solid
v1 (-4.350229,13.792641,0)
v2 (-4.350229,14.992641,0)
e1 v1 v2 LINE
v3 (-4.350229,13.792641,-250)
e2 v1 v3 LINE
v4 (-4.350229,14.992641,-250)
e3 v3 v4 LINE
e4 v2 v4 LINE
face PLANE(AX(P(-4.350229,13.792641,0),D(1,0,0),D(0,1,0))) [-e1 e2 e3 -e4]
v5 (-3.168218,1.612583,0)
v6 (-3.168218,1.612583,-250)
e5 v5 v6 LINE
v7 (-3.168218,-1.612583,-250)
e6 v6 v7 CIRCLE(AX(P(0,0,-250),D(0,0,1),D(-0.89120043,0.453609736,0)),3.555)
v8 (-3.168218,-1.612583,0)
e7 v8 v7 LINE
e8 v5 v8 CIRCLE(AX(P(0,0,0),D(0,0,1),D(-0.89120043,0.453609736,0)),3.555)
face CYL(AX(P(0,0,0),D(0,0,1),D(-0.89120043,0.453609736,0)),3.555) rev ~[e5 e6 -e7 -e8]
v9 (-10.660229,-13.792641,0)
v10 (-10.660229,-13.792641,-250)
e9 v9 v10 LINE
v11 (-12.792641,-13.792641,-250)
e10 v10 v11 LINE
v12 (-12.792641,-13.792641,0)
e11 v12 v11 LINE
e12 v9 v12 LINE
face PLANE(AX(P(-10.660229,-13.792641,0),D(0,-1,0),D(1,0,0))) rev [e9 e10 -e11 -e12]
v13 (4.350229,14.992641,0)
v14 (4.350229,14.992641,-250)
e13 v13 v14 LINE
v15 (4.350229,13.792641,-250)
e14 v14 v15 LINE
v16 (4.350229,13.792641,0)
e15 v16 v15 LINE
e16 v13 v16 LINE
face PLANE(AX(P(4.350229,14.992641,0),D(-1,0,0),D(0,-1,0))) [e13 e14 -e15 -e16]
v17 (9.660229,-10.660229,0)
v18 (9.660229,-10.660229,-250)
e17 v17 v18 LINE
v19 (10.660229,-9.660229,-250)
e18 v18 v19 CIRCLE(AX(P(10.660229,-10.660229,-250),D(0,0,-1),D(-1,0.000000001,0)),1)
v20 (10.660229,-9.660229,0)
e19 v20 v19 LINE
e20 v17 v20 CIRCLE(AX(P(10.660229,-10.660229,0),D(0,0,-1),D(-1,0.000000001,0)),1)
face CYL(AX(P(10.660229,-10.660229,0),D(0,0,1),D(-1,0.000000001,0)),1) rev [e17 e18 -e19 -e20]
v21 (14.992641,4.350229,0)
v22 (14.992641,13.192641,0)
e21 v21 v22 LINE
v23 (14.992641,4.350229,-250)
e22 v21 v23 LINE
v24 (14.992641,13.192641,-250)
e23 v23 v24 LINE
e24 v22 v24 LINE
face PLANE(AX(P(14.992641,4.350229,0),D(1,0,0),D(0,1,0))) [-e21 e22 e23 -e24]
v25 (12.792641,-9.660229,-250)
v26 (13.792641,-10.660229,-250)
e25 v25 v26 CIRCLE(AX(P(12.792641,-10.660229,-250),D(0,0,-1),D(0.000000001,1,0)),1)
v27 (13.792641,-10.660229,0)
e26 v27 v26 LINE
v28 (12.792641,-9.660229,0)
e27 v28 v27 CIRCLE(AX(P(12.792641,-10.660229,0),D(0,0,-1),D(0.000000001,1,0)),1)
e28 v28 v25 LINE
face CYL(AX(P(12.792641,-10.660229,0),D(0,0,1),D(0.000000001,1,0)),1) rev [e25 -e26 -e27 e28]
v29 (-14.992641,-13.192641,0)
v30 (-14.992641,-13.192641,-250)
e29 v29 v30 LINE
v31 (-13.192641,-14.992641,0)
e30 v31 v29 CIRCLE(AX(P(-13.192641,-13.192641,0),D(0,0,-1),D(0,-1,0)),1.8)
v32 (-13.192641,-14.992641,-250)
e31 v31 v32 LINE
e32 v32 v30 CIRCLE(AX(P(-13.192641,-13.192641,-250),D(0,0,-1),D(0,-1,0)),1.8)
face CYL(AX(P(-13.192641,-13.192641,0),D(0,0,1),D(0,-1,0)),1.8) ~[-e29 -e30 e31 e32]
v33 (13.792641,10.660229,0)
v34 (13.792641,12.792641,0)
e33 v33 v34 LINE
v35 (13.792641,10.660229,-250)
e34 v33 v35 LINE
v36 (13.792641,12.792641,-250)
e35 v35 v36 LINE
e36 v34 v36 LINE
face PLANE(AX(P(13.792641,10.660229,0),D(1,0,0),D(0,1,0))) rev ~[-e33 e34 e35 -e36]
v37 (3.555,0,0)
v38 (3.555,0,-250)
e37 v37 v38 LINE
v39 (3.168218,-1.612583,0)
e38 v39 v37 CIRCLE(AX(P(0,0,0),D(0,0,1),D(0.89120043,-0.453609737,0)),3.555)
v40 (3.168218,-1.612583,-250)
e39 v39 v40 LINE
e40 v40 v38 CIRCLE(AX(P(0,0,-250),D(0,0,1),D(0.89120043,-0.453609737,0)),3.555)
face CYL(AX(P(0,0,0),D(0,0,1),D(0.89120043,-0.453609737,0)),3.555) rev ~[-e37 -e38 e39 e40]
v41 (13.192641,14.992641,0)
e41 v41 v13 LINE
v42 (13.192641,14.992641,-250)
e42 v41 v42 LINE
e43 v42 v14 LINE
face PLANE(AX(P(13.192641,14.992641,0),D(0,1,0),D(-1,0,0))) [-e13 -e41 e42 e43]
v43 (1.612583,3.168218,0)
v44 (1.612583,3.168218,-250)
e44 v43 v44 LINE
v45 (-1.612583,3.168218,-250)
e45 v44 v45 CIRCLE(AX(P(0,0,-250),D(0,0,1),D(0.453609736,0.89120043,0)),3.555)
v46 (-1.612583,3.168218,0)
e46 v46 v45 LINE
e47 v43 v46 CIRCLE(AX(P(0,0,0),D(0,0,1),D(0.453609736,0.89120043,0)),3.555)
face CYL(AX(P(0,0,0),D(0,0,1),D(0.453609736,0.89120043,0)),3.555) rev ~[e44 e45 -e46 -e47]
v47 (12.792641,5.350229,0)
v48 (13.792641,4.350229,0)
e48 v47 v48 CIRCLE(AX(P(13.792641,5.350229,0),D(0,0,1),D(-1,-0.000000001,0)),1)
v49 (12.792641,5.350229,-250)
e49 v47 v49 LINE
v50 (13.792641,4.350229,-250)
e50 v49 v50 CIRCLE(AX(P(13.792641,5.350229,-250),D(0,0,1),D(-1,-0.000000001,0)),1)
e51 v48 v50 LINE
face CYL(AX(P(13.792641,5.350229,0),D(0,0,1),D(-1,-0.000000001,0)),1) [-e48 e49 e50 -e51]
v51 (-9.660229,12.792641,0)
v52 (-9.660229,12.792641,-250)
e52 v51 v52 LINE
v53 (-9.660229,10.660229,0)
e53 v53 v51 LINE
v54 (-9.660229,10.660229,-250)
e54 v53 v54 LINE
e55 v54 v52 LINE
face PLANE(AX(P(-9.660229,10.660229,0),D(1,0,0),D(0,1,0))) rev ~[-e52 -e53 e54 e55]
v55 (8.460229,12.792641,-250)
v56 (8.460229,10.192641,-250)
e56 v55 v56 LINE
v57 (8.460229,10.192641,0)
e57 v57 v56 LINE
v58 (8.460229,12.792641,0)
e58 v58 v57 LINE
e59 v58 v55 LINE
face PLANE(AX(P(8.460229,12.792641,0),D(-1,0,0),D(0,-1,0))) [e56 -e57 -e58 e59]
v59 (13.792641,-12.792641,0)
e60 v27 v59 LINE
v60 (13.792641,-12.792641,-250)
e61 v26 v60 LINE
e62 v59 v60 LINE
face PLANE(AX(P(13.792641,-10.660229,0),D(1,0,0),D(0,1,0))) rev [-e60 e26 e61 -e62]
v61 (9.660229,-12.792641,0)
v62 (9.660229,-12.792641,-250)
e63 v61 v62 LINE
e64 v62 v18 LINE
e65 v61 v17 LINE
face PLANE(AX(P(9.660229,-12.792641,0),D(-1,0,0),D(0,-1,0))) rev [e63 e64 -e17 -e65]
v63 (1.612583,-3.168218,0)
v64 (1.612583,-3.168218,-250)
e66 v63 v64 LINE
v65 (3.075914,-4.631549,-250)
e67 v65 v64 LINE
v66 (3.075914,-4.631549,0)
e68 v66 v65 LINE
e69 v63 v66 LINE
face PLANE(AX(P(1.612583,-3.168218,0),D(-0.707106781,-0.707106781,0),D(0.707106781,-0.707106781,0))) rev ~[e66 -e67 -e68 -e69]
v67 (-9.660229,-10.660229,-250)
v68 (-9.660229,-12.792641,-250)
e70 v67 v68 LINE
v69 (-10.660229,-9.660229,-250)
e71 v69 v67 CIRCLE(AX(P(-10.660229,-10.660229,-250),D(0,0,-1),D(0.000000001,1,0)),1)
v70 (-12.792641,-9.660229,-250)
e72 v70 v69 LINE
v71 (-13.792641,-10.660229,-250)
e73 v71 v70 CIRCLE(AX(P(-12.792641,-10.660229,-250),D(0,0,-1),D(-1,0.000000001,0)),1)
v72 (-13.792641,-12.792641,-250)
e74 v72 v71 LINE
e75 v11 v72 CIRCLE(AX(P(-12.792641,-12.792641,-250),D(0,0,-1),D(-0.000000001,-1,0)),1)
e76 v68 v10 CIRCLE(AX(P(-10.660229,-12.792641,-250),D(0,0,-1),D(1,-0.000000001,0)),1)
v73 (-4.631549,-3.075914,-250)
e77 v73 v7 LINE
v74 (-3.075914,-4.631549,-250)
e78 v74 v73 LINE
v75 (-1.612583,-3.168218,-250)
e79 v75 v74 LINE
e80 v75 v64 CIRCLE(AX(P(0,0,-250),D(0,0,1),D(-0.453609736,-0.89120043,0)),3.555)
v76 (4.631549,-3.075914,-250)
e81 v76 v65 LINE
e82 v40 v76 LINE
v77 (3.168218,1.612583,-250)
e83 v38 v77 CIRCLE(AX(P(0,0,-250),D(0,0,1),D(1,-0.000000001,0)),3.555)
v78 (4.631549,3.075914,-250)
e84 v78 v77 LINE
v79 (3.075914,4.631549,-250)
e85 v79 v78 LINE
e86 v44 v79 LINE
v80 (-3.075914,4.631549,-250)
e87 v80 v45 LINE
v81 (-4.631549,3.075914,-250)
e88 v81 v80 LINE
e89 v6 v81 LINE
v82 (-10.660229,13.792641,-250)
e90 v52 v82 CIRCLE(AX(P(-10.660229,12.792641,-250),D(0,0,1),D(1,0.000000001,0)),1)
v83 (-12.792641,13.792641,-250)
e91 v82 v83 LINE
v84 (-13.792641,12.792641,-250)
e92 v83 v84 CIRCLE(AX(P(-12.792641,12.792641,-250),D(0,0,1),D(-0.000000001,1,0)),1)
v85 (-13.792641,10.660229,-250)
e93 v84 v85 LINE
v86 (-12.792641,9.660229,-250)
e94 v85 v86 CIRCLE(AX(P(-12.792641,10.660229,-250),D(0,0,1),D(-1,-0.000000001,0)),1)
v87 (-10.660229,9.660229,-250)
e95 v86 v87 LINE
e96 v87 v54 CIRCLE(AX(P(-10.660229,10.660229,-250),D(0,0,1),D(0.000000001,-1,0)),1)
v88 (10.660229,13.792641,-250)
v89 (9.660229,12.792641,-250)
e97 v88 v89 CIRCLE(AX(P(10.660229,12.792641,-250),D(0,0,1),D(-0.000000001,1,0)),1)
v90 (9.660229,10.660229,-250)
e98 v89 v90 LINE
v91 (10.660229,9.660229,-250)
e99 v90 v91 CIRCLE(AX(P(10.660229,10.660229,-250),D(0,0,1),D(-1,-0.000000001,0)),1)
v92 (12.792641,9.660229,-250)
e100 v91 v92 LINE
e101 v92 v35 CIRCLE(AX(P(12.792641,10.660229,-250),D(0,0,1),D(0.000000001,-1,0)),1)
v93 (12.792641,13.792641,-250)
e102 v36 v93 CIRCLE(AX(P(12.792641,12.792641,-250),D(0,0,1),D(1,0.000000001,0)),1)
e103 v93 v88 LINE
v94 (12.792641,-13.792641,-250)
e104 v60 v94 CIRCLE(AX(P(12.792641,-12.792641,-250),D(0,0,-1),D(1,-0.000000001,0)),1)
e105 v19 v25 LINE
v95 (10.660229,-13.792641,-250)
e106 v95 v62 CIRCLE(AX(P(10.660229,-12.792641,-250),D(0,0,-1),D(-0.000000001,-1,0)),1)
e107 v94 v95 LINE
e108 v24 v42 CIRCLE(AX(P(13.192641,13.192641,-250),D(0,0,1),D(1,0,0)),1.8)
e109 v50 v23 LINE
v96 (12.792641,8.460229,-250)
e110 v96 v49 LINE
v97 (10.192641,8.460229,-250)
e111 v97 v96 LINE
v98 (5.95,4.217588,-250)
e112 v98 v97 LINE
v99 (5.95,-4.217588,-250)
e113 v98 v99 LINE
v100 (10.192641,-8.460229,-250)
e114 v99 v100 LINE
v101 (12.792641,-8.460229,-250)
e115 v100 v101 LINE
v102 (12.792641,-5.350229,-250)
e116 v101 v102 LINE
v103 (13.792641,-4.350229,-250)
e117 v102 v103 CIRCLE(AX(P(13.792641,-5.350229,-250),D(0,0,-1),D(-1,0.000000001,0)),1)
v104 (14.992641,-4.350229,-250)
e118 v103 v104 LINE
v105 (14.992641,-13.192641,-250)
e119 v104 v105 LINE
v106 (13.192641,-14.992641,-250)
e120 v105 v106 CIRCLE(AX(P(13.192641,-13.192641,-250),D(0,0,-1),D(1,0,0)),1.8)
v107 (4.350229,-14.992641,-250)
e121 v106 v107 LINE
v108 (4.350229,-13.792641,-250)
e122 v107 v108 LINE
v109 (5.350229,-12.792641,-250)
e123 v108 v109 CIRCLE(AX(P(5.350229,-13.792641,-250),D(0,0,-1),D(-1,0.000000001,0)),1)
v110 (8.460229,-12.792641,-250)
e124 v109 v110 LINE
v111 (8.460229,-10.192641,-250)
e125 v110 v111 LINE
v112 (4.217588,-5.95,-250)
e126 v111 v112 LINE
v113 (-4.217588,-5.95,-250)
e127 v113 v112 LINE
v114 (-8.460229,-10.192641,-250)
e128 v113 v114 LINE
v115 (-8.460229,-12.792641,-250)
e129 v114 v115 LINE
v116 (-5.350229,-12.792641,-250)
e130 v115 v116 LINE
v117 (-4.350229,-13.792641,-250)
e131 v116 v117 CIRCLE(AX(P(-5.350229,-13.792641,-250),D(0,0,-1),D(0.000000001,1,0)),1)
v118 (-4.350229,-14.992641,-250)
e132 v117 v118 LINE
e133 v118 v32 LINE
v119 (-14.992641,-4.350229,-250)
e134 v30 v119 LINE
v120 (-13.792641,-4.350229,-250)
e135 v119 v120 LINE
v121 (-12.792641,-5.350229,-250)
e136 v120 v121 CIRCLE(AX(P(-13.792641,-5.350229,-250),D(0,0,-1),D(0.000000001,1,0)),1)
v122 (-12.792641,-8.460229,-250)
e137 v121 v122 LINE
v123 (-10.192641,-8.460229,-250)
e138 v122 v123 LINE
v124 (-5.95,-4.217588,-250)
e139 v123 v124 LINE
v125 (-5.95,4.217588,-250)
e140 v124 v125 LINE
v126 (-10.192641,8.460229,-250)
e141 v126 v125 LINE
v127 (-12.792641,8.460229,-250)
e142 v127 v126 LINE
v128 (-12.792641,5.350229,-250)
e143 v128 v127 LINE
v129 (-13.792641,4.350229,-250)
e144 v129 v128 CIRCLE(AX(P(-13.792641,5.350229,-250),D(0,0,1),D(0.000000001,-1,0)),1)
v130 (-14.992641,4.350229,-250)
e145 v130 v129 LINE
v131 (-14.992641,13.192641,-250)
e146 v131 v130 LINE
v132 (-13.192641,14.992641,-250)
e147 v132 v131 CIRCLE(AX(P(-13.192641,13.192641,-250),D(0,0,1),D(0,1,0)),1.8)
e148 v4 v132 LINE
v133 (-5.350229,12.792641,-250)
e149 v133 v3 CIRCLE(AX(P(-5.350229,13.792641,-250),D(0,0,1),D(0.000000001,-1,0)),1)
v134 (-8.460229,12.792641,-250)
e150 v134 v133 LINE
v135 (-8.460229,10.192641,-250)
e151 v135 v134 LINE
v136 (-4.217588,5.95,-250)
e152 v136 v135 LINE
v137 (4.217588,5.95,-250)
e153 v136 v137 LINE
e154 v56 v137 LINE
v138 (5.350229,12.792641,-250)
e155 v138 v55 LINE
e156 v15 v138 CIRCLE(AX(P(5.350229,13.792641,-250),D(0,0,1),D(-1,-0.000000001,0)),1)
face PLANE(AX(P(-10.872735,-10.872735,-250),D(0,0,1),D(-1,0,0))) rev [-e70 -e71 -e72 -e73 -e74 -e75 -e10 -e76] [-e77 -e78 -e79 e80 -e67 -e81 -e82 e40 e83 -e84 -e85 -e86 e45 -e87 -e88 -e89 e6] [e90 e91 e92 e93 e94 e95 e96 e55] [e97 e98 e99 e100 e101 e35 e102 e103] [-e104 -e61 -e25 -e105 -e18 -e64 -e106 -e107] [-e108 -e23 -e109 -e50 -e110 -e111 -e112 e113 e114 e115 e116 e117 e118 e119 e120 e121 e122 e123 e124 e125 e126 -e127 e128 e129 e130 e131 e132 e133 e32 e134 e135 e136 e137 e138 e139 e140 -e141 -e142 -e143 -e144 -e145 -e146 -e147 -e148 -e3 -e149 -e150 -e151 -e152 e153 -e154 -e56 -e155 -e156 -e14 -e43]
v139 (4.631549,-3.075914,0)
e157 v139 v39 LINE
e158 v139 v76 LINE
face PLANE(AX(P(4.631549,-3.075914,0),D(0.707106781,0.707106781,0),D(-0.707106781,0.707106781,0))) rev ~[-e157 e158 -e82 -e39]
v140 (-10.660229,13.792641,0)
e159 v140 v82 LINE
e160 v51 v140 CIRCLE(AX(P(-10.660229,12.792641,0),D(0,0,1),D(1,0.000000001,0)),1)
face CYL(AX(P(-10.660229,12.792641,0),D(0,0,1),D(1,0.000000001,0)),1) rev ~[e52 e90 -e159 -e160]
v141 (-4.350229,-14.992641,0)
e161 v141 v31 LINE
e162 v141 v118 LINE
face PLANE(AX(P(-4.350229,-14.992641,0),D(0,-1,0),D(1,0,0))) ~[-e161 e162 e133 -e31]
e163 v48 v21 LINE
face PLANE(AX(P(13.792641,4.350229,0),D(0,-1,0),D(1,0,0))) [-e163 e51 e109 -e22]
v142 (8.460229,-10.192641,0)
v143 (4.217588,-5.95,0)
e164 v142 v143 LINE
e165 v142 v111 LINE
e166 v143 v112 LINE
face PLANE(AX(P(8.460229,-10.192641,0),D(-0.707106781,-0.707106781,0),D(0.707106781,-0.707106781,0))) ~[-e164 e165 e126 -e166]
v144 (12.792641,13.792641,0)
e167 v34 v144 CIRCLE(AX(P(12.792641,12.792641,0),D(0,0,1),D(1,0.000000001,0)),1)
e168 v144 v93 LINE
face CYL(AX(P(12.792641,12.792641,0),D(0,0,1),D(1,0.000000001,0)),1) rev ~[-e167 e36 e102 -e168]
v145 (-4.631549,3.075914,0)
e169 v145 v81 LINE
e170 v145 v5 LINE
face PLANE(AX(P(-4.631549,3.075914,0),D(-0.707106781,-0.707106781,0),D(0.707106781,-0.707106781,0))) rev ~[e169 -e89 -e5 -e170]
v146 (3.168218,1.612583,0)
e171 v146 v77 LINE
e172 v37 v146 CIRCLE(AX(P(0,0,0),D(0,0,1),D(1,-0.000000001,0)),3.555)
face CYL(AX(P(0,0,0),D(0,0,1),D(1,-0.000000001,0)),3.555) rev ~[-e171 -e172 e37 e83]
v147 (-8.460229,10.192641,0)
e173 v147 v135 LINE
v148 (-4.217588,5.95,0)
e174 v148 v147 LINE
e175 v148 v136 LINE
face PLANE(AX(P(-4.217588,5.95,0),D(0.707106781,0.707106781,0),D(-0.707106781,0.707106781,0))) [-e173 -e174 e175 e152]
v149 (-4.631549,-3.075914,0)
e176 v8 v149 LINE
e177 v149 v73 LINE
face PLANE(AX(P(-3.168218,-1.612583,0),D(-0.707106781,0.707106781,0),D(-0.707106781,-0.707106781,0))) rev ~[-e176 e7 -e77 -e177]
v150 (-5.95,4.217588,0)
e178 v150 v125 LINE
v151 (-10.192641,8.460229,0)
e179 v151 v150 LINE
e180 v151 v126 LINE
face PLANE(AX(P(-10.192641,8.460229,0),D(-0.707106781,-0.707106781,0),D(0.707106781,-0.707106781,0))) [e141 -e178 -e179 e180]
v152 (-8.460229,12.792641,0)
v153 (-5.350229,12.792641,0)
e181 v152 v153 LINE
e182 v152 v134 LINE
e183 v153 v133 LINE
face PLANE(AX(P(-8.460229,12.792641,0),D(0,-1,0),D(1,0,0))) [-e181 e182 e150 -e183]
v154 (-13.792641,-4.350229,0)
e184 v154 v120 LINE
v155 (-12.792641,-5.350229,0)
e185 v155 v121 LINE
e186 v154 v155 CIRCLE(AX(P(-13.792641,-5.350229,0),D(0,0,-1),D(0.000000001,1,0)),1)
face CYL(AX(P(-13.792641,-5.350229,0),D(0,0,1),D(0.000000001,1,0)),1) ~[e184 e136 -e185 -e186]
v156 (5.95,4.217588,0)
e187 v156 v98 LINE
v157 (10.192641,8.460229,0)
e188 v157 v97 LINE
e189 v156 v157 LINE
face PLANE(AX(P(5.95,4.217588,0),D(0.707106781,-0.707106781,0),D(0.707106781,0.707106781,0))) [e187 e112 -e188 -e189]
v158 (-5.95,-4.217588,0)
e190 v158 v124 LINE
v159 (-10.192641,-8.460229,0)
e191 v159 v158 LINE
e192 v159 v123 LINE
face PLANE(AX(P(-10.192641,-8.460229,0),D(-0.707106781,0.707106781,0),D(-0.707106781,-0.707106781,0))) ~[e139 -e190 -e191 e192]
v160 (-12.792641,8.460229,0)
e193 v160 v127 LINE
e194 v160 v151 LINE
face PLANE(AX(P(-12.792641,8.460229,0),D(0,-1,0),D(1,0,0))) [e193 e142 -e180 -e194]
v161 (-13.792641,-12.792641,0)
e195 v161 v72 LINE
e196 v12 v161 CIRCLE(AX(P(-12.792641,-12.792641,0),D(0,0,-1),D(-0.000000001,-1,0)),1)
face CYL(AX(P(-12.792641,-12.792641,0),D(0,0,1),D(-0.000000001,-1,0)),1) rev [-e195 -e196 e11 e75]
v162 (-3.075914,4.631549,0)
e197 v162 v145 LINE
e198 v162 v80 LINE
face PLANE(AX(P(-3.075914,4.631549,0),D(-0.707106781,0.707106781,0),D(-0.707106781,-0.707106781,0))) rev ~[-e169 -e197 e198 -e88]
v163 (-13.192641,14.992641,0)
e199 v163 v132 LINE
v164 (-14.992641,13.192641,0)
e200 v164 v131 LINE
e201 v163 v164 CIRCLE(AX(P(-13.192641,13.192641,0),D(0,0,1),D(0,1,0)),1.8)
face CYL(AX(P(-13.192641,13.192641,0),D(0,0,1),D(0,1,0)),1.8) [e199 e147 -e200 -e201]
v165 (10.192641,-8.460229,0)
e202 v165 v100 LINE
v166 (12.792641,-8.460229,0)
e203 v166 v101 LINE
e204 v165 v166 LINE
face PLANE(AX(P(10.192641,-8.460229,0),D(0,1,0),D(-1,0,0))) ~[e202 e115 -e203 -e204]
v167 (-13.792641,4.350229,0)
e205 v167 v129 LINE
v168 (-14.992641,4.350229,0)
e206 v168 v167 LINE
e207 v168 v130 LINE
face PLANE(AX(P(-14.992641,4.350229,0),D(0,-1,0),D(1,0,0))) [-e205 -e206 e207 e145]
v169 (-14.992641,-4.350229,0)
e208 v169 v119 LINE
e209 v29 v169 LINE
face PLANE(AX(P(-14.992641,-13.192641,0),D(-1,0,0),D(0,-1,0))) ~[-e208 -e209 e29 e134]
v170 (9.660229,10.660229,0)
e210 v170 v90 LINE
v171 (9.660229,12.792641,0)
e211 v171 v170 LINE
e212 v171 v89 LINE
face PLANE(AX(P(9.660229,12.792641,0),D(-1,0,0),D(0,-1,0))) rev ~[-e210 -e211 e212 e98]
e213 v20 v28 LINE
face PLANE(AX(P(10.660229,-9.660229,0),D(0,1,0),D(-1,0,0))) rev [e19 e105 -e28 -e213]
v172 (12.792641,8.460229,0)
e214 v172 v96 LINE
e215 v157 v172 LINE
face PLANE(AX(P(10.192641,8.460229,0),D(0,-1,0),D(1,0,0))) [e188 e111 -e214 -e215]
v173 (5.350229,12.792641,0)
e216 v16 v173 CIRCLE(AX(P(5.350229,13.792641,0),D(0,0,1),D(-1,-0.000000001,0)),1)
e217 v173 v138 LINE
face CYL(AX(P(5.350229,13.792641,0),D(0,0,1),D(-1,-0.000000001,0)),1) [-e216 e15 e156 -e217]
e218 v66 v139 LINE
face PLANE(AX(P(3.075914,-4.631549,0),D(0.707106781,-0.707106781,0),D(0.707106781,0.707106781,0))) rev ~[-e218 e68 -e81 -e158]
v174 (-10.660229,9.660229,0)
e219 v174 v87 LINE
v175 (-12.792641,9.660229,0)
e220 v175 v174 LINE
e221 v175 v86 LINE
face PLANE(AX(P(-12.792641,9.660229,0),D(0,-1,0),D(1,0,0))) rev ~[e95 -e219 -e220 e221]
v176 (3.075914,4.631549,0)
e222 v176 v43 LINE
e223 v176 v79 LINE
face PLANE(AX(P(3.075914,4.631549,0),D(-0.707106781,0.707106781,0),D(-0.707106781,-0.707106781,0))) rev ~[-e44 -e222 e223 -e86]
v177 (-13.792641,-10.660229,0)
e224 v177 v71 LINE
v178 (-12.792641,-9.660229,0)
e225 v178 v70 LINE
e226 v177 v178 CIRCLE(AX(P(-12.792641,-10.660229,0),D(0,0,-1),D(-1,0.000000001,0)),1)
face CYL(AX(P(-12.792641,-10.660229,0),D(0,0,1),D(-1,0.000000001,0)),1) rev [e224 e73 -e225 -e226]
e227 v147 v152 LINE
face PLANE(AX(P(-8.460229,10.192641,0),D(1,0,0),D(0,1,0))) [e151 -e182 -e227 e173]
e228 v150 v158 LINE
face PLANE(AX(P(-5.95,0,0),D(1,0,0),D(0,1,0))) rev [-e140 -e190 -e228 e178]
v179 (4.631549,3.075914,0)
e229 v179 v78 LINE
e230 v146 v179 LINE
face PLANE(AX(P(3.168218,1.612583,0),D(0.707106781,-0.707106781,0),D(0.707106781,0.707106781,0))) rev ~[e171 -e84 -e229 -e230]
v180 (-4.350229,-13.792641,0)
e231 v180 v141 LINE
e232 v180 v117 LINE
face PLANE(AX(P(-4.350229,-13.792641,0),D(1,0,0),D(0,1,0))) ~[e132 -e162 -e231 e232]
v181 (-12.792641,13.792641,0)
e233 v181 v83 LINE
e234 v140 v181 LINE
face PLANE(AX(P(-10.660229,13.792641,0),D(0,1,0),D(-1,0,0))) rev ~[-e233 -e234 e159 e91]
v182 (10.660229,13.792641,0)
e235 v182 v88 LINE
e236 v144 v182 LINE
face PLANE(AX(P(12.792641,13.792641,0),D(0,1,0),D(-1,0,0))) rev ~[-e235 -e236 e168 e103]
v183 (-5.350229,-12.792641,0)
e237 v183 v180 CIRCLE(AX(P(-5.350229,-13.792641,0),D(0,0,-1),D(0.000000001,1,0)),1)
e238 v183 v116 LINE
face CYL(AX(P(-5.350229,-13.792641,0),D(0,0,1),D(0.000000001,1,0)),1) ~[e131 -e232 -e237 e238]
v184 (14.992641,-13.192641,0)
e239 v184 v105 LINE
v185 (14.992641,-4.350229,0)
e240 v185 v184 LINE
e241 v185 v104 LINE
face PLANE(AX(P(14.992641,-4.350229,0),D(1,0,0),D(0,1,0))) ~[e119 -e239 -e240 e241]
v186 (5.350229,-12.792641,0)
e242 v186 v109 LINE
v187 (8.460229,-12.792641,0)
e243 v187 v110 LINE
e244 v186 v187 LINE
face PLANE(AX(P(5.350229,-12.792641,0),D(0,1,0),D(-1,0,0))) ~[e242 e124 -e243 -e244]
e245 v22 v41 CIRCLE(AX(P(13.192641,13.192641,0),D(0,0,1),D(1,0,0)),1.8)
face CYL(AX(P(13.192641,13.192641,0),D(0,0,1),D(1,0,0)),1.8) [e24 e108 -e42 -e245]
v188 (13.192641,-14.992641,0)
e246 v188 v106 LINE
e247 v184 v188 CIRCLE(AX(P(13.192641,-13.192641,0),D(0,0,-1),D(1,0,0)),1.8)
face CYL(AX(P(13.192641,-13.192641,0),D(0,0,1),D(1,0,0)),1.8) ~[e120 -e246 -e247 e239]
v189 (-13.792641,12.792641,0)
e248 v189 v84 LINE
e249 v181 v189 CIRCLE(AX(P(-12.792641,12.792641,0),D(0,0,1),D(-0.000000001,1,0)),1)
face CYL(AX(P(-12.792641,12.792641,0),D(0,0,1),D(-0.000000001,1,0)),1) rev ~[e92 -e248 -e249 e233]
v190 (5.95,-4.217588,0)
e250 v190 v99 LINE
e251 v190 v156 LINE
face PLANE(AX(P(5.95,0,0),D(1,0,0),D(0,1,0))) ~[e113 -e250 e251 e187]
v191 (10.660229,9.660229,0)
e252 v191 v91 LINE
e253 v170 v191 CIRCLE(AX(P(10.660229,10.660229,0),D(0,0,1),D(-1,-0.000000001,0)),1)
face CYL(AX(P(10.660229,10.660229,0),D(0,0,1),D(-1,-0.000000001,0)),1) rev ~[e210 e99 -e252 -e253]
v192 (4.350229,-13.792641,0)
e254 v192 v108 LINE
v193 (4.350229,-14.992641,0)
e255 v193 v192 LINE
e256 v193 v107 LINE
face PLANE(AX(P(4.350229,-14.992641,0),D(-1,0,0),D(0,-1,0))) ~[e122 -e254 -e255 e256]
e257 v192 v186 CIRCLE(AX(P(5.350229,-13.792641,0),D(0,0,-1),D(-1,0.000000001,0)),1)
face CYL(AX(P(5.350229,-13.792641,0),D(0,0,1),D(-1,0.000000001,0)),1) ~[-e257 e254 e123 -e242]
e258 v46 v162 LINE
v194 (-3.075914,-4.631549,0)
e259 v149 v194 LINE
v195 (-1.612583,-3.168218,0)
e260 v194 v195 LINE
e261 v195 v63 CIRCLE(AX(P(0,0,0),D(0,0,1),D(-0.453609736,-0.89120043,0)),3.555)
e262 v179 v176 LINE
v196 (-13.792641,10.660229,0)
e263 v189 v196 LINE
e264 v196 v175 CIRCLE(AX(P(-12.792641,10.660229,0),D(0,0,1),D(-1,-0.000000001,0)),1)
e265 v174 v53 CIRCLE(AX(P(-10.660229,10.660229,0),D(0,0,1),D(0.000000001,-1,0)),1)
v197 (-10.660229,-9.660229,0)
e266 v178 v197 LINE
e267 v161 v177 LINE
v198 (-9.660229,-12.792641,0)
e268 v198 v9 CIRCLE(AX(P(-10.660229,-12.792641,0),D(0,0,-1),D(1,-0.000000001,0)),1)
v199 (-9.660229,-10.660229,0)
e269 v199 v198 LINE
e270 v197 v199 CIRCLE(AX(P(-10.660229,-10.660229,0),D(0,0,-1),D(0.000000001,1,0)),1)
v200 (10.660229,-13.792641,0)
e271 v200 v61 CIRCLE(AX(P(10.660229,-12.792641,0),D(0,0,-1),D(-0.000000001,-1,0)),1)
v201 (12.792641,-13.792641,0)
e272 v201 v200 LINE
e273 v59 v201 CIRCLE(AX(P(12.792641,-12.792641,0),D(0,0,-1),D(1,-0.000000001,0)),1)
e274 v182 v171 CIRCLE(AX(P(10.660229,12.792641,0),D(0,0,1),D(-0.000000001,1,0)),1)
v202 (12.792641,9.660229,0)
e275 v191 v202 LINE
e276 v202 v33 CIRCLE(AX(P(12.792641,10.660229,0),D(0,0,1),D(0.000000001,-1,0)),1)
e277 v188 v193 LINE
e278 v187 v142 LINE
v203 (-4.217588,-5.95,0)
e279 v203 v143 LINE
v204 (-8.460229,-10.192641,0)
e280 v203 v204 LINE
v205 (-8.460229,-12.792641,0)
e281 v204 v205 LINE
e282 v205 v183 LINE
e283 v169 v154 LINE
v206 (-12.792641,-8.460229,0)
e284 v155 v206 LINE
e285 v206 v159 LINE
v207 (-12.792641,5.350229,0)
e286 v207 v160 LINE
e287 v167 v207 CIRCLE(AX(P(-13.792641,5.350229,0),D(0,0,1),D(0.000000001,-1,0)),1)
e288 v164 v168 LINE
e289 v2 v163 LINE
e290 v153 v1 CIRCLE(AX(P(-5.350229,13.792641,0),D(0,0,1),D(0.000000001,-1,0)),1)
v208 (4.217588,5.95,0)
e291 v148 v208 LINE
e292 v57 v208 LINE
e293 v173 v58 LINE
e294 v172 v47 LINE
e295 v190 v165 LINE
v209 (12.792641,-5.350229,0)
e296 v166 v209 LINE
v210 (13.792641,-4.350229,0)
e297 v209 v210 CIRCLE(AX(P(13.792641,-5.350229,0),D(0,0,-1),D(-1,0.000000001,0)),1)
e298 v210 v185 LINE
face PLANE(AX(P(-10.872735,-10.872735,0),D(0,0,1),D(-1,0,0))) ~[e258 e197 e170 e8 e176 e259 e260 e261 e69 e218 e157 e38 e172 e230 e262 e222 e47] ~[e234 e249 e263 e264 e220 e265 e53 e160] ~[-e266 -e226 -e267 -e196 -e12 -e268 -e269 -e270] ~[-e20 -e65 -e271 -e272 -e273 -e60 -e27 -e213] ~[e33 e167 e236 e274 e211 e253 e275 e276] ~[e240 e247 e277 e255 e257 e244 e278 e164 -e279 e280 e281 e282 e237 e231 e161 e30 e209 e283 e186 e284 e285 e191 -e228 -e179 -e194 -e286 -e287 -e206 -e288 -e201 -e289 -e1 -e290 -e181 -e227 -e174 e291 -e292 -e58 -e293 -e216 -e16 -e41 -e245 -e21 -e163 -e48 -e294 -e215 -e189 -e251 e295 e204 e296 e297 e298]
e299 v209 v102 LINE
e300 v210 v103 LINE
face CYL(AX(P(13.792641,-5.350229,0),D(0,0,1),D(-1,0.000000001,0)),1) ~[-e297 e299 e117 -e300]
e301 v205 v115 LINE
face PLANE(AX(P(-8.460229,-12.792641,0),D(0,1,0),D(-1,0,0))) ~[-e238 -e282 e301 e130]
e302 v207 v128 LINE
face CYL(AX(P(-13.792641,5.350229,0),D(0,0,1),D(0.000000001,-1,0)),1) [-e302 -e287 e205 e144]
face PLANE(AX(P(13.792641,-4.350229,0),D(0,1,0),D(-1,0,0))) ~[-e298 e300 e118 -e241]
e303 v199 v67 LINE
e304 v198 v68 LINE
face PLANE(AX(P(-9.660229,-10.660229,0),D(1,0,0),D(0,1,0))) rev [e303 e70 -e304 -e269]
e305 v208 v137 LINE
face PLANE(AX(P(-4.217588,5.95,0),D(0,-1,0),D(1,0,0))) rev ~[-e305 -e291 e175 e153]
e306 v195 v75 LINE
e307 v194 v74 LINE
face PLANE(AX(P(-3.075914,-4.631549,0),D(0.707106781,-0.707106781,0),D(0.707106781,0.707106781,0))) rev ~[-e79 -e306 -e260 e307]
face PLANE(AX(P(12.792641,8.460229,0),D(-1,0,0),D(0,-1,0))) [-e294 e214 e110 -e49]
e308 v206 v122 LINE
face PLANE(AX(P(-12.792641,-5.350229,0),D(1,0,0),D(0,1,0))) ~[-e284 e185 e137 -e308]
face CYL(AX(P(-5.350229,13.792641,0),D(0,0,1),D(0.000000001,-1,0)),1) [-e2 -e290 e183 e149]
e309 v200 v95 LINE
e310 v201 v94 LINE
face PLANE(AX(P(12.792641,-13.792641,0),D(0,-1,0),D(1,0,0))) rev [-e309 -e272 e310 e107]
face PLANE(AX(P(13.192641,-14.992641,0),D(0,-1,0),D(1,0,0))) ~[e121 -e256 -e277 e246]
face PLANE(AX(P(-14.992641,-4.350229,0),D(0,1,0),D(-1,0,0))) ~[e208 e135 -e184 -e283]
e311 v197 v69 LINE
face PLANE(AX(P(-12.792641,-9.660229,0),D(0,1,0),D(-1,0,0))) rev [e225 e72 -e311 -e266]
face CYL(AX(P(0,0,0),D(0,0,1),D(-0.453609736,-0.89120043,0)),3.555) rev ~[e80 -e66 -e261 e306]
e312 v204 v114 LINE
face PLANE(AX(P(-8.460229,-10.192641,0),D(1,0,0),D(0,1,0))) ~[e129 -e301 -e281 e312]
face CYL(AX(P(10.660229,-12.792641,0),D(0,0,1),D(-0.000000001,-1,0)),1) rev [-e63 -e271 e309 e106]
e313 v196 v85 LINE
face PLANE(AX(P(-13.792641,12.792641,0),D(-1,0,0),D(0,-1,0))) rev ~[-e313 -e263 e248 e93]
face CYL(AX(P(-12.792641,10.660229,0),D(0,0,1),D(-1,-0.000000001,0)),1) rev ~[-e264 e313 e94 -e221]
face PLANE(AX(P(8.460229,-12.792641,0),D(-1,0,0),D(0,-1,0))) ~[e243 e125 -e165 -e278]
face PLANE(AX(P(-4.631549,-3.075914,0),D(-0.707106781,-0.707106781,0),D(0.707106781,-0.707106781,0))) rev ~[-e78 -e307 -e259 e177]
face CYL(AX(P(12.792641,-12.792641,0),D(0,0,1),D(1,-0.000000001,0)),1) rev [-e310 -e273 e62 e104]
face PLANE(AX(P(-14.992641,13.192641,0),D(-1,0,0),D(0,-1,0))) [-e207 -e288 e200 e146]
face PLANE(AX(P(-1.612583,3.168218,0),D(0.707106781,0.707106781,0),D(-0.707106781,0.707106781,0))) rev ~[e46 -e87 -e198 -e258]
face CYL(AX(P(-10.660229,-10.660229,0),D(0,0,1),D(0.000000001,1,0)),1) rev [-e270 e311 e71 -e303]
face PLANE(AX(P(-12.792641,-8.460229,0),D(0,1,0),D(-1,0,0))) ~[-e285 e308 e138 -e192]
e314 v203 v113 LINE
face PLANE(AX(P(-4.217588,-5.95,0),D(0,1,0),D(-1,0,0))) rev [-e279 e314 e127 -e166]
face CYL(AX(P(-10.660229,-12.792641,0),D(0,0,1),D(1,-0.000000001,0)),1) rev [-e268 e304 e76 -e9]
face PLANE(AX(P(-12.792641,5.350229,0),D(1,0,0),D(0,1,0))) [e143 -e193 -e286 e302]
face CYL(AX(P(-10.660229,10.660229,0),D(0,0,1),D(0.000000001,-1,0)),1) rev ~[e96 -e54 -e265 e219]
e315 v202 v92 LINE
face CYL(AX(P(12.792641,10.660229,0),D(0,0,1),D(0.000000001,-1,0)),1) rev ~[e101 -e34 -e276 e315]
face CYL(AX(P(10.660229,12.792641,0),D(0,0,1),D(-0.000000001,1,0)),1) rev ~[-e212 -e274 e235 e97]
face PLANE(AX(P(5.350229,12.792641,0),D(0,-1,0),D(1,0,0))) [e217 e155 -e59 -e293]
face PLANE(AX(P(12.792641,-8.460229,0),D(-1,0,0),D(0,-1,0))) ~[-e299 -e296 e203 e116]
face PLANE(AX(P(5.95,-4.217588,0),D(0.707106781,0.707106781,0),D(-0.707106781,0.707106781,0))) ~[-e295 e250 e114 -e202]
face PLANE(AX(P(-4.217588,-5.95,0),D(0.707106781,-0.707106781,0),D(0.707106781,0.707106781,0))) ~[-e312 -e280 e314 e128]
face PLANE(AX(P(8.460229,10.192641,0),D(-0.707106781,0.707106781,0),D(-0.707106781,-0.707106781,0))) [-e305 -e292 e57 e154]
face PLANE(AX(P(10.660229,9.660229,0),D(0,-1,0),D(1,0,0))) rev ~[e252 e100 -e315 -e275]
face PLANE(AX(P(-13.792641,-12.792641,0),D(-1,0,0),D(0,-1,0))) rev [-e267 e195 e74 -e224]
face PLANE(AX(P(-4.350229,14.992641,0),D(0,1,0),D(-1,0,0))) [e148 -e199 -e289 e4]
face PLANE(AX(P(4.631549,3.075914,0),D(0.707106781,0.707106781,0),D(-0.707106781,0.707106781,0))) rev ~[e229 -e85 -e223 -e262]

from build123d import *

# Parameters (mm, degrees)
SKETCH1_W           = 11.9
SKETCH1_H           = 5.95
BOSS_EXTRUDE1_DEPTH = 250
CUT_EXTRUDE1_DEPTH  = 251


with BuildPart() as part:
    # Sketch1 → Boss-Extrude1 (new body)
    with BuildSketch(Plane.XY):
        with BuildLine():
            Line((-4.350229073, 14.992640687), (-13.192640687, 14.992640687))
            ThreePointArc((-13.192640687, 14.992640687), (-14.465432893, 14.465432893), (-14.992640687, 13.192640687))
            Line((-14.992640687, 13.192640687), (-14.992640687, 4.350229073))
            Line((-14.992640687, 4.350229073), (-13.792640687, 4.350229073))
            ThreePointArc((-13.792640687, 4.350229073), (-13.085533906, 4.643122292), (-12.792640687, 5.350229073))
            Line((-12.792640687, 5.350229073), (-12.792640687, 8.460229073))
            Line((-12.792640687, 8.460229073), (-8.460229073, 8.460229073))
            Line((-8.460229073, 8.460229073), (-8.460229073, 12.792640687))
            Line((-8.460229073, 12.792640687), (-5.350229073, 12.792640687))
            ThreePointArc((-5.350229073, 12.792640687), (-4.643122292, 13.085533906), (-4.350229073, 13.792640687))
            Line((-4.350229073, 13.792640687), (-4.350229073, 14.992640687))
        make_face()
        with BuildLine():
            Line((-10.660229073, 13.792640687), (-12.792640687, 13.792640687))
            ThreePointArc((-12.792640687, 13.792640687), (-13.499747468, 13.499747468), (-13.792640687, 12.792640687))
            Line((-13.792640687, 12.792640687), (-13.792640687, 10.660229073))
            ThreePointArc((-13.792640687, 10.660229073), (-13.499747468, 9.953122292), (-12.792640687, 9.660229073))
            Line((-12.792640687, 9.660229073), (-10.660229073, 9.660229073))
            ThreePointArc((-10.660229073, 9.660229073), (-9.953122292, 9.953122292), (-9.660229073, 10.660229073))
            Line((-9.660229073, 10.660229073), (-9.660229073, 12.792640687))
            ThreePointArc((-9.660229073, 12.792640687), (-9.953122292, 13.499747468), (-10.660229073, 13.792640687))
        make_face(mode=Mode.SUBTRACT)
        Polygon((-5.95, 4.217588386), (-5.95, 5.95), (-4.217588386, 5.95), (-8.460229073, 10.192640687), (-8.460229073, 8.460229073), (-10.192640687, 8.460229073), align=None)
        with Locations((0, 2.975)):
            Rectangle(SKETCH1_W, SKETCH1_H)
        Polygon((8.460229073, 10.192640687), (4.217588386, 5.95), (5.95, 5.95), (5.95, 4.217588386), (10.192640687, 8.460229073), (8.460229073, 8.460229073), align=None)
        with BuildLine():
            Line((12.792640687, 8.460229073), (12.792640687, 5.350229073))
            ThreePointArc((12.792640687, 5.350229073), (13.085533906, 4.643122292), (13.792640687, 4.350229073))
            Line((13.792640687, 4.350229073), (14.992640687, 4.350229073))
            Line((14.992640687, 4.350229073), (14.992640687, 13.192640687))
            ThreePointArc((14.992640687, 13.192640687), (14.465432893, 14.465432893), (13.192640687, 14.992640687))
            Line((13.192640687, 14.992640687), (4.350229073, 14.992640687))
            Line((4.350229073, 14.992640687), (4.350229073, 13.792640687))
            ThreePointArc((4.350229073, 13.792640687), (4.643122292, 13.085533906), (5.350229073, 12.792640687))
            Line((5.350229073, 12.792640687), (8.460229073, 12.792640687))
            Line((8.460229073, 12.792640687), (8.460229073, 8.460229073))
            Line((8.460229073, 8.460229073), (12.792640687, 8.460229073))
        make_face()
        with BuildLine():
            ThreePointArc((9.660229073, 10.660229073), (9.953122292, 9.953122292), (10.660229073, 9.660229073))
            Line((10.660229073, 9.660229073), (12.792640687, 9.660229073))
            ThreePointArc((12.792640687, 9.660229073), (13.499747468, 9.953122292), (13.792640687, 10.660229073))
            Line((13.792640687, 10.660229073), (13.792640687, 12.792640687))
            ThreePointArc((13.792640687, 12.792640687), (13.499747468, 13.499747468), (12.792640687, 13.792640687))
            Line((12.792640687, 13.792640687), (10.660229073, 13.792640687))
            ThreePointArc((10.660229073, 13.792640687), (9.953122292, 13.499747468), (9.660229073, 12.792640687))
            Line((9.660229073, 12.792640687), (9.660229073, 10.660229073))
        make_face(mode=Mode.SUBTRACT)
    extrude(amount=-BOSS_EXTRUDE1_DEPTH)

    # Mirror1: part across plane


with BuildPart() as part_1:
    add(part.part)
    add(part.part.mirror(Plane(origin=(0, 0, -250), x_dir=(0, 0, 1), z_dir=(0, -1, 0))))

    # Sketch2 → Cut-Extrude1 (cut, through all)
    with BuildSketch(Plane.XY):
        with BuildLine():
            Line((-4.631549417, 3.075914498), (-3.16821753, 1.612582612))
            ThreePointArc((-3.16821753, 1.612582612), (-2.513764607, 2.513764607), (-1.612582612, 3.16821753))
            Line((-1.612582612, 3.16821753), (-3.075914498, 4.631549417))
            Line((-3.075914498, 4.631549417), (-4.631549417, 3.075914498))
        make_face()
        with BuildLine():
            Line((-3.16821753, 1.612582612), (-1.555634919, 0))
            Line((-1.555634919, 0), (0, 1.555634919))
            Line((0, 1.555634919), (-1.612582612, 3.16821753))
            ThreePointArc((-1.612582612, 3.16821753), (-2.513764607, 2.513764607), (-3.16821753, 1.612582612))
        make_face()
        with BuildLine():
            ThreePointArc((-3.16821753, 1.612582612), (-3.555, 0), (-3.16821753, -1.612582612))
            Line((-3.16821753, -1.612582612), (-1.555634919, 0))
            Line((-1.555634919, 0), (-3.16821753, 1.612582612))
        make_face()
        with BuildLine():
            Line((-4.631549417, -3.075914498), (-3.075914498, -4.631549417))
            Line((-3.075914498, -4.631549417), (-1.612582612, -3.16821753))
            ThreePointArc((-1.612582612, -3.16821753), (-2.513764607, -2.513764607), (-3.16821753, -1.612582612))
            Line((-3.16821753, -1.612582612), (-4.631549417, -3.075914498))
        make_face()
        with BuildLine():
            ThreePointArc((-3.16821753, -1.612582612), (-2.513764607, -2.513764607), (-1.612582612, -3.16821753))
            Line((-1.612582612, -3.16821753), (0, -1.555634919))
            Line((0, -1.555634919), (-1.555634919, 0))
            Line((-1.555634919, 0), (-3.16821753, -1.612582612))
        make_face()
        with BuildLine():
            Line((0, -1.555634919), (-1.612582612, -3.16821753))
            ThreePointArc((-1.612582612, -3.16821753), (0, -3.555), (1.612582612, -3.16821753))
            Line((1.612582612, -3.16821753), (0, -1.555634919))
        make_face()
        with BuildLine():
            Line((1.555634919, 0), (0, -1.555634919))
            Line((0, -1.555634919), (1.612582612, -3.16821753))
            ThreePointArc((1.612582612, -3.16821753), (2.513764607, -2.513764607), (3.16821753, -1.612582612))
            Line((3.16821753, -1.612582612), (1.555634919, 0))
        make_face()
        with BuildLine():
            Line((3.16821753, 1.612582612), (1.555634919, 0))
            Line((1.555634919, 0), (3.16821753, -1.612582612))
            ThreePointArc((3.16821753, -1.612582612), (3.456952294, -0.829159719), (3.555, 0))
            ThreePointArc((3.555, 0), (3.456952294, 0.829159719), (3.16821753, 1.612582612))
        make_face()
        Polygon((-1.555634919, 0), (0, -1.555634919), (1.555634919, 0), (0, 1.555634919), align=None)
        with BuildLine():
            Line((0, 1.555634919), (1.555634919, 0))
            Line((1.555634919, 0), (3.16821753, 1.612582612))
            ThreePointArc((3.16821753, 1.612582612), (2.513764607, 2.513764607), (1.612582612, 3.16821753))
            Line((1.612582612, 3.16821753), (0, 1.555634919))
        make_face()
        with BuildLine():
            Line((-1.612582612, 3.16821753), (0, 1.555634919))
            Line((0, 1.555634919), (1.612582612, 3.16821753))
            ThreePointArc((1.612582612, 3.16821753), (0, 3.555), (-1.612582612, 3.16821753))
        make_face()
        with BuildLine():
            ThreePointArc((1.612582612, 3.16821753), (2.513764607, 2.513764607), (3.16821753, 1.612582612))
            Line((3.16821753, 1.612582612), (4.631549417, 3.075914498))
            Line((4.631549417, 3.075914498), (3.075914498, 4.631549417))
            Line((3.075914498, 4.631549417), (1.612582612, 3.16821753))
        make_face()
        with BuildLine():
            ThreePointArc((3.16821753, -1.612582612), (2.513764607, -2.513764607), (1.612582612, -3.16821753))
            Line((1.612582612, -3.16821753), (3.075914498, -4.631549417))
            Line((3.075914498, -4.631549417), (4.631549417, -3.075914498))
            Line((4.631549417, -3.075914498), (3.16821753, -1.612582612))
        make_face()
    extrude(amount=-CUT_EXTRUDE1_DEPTH, mode=Mode.SUBTRACT)


solid = part_1.part
